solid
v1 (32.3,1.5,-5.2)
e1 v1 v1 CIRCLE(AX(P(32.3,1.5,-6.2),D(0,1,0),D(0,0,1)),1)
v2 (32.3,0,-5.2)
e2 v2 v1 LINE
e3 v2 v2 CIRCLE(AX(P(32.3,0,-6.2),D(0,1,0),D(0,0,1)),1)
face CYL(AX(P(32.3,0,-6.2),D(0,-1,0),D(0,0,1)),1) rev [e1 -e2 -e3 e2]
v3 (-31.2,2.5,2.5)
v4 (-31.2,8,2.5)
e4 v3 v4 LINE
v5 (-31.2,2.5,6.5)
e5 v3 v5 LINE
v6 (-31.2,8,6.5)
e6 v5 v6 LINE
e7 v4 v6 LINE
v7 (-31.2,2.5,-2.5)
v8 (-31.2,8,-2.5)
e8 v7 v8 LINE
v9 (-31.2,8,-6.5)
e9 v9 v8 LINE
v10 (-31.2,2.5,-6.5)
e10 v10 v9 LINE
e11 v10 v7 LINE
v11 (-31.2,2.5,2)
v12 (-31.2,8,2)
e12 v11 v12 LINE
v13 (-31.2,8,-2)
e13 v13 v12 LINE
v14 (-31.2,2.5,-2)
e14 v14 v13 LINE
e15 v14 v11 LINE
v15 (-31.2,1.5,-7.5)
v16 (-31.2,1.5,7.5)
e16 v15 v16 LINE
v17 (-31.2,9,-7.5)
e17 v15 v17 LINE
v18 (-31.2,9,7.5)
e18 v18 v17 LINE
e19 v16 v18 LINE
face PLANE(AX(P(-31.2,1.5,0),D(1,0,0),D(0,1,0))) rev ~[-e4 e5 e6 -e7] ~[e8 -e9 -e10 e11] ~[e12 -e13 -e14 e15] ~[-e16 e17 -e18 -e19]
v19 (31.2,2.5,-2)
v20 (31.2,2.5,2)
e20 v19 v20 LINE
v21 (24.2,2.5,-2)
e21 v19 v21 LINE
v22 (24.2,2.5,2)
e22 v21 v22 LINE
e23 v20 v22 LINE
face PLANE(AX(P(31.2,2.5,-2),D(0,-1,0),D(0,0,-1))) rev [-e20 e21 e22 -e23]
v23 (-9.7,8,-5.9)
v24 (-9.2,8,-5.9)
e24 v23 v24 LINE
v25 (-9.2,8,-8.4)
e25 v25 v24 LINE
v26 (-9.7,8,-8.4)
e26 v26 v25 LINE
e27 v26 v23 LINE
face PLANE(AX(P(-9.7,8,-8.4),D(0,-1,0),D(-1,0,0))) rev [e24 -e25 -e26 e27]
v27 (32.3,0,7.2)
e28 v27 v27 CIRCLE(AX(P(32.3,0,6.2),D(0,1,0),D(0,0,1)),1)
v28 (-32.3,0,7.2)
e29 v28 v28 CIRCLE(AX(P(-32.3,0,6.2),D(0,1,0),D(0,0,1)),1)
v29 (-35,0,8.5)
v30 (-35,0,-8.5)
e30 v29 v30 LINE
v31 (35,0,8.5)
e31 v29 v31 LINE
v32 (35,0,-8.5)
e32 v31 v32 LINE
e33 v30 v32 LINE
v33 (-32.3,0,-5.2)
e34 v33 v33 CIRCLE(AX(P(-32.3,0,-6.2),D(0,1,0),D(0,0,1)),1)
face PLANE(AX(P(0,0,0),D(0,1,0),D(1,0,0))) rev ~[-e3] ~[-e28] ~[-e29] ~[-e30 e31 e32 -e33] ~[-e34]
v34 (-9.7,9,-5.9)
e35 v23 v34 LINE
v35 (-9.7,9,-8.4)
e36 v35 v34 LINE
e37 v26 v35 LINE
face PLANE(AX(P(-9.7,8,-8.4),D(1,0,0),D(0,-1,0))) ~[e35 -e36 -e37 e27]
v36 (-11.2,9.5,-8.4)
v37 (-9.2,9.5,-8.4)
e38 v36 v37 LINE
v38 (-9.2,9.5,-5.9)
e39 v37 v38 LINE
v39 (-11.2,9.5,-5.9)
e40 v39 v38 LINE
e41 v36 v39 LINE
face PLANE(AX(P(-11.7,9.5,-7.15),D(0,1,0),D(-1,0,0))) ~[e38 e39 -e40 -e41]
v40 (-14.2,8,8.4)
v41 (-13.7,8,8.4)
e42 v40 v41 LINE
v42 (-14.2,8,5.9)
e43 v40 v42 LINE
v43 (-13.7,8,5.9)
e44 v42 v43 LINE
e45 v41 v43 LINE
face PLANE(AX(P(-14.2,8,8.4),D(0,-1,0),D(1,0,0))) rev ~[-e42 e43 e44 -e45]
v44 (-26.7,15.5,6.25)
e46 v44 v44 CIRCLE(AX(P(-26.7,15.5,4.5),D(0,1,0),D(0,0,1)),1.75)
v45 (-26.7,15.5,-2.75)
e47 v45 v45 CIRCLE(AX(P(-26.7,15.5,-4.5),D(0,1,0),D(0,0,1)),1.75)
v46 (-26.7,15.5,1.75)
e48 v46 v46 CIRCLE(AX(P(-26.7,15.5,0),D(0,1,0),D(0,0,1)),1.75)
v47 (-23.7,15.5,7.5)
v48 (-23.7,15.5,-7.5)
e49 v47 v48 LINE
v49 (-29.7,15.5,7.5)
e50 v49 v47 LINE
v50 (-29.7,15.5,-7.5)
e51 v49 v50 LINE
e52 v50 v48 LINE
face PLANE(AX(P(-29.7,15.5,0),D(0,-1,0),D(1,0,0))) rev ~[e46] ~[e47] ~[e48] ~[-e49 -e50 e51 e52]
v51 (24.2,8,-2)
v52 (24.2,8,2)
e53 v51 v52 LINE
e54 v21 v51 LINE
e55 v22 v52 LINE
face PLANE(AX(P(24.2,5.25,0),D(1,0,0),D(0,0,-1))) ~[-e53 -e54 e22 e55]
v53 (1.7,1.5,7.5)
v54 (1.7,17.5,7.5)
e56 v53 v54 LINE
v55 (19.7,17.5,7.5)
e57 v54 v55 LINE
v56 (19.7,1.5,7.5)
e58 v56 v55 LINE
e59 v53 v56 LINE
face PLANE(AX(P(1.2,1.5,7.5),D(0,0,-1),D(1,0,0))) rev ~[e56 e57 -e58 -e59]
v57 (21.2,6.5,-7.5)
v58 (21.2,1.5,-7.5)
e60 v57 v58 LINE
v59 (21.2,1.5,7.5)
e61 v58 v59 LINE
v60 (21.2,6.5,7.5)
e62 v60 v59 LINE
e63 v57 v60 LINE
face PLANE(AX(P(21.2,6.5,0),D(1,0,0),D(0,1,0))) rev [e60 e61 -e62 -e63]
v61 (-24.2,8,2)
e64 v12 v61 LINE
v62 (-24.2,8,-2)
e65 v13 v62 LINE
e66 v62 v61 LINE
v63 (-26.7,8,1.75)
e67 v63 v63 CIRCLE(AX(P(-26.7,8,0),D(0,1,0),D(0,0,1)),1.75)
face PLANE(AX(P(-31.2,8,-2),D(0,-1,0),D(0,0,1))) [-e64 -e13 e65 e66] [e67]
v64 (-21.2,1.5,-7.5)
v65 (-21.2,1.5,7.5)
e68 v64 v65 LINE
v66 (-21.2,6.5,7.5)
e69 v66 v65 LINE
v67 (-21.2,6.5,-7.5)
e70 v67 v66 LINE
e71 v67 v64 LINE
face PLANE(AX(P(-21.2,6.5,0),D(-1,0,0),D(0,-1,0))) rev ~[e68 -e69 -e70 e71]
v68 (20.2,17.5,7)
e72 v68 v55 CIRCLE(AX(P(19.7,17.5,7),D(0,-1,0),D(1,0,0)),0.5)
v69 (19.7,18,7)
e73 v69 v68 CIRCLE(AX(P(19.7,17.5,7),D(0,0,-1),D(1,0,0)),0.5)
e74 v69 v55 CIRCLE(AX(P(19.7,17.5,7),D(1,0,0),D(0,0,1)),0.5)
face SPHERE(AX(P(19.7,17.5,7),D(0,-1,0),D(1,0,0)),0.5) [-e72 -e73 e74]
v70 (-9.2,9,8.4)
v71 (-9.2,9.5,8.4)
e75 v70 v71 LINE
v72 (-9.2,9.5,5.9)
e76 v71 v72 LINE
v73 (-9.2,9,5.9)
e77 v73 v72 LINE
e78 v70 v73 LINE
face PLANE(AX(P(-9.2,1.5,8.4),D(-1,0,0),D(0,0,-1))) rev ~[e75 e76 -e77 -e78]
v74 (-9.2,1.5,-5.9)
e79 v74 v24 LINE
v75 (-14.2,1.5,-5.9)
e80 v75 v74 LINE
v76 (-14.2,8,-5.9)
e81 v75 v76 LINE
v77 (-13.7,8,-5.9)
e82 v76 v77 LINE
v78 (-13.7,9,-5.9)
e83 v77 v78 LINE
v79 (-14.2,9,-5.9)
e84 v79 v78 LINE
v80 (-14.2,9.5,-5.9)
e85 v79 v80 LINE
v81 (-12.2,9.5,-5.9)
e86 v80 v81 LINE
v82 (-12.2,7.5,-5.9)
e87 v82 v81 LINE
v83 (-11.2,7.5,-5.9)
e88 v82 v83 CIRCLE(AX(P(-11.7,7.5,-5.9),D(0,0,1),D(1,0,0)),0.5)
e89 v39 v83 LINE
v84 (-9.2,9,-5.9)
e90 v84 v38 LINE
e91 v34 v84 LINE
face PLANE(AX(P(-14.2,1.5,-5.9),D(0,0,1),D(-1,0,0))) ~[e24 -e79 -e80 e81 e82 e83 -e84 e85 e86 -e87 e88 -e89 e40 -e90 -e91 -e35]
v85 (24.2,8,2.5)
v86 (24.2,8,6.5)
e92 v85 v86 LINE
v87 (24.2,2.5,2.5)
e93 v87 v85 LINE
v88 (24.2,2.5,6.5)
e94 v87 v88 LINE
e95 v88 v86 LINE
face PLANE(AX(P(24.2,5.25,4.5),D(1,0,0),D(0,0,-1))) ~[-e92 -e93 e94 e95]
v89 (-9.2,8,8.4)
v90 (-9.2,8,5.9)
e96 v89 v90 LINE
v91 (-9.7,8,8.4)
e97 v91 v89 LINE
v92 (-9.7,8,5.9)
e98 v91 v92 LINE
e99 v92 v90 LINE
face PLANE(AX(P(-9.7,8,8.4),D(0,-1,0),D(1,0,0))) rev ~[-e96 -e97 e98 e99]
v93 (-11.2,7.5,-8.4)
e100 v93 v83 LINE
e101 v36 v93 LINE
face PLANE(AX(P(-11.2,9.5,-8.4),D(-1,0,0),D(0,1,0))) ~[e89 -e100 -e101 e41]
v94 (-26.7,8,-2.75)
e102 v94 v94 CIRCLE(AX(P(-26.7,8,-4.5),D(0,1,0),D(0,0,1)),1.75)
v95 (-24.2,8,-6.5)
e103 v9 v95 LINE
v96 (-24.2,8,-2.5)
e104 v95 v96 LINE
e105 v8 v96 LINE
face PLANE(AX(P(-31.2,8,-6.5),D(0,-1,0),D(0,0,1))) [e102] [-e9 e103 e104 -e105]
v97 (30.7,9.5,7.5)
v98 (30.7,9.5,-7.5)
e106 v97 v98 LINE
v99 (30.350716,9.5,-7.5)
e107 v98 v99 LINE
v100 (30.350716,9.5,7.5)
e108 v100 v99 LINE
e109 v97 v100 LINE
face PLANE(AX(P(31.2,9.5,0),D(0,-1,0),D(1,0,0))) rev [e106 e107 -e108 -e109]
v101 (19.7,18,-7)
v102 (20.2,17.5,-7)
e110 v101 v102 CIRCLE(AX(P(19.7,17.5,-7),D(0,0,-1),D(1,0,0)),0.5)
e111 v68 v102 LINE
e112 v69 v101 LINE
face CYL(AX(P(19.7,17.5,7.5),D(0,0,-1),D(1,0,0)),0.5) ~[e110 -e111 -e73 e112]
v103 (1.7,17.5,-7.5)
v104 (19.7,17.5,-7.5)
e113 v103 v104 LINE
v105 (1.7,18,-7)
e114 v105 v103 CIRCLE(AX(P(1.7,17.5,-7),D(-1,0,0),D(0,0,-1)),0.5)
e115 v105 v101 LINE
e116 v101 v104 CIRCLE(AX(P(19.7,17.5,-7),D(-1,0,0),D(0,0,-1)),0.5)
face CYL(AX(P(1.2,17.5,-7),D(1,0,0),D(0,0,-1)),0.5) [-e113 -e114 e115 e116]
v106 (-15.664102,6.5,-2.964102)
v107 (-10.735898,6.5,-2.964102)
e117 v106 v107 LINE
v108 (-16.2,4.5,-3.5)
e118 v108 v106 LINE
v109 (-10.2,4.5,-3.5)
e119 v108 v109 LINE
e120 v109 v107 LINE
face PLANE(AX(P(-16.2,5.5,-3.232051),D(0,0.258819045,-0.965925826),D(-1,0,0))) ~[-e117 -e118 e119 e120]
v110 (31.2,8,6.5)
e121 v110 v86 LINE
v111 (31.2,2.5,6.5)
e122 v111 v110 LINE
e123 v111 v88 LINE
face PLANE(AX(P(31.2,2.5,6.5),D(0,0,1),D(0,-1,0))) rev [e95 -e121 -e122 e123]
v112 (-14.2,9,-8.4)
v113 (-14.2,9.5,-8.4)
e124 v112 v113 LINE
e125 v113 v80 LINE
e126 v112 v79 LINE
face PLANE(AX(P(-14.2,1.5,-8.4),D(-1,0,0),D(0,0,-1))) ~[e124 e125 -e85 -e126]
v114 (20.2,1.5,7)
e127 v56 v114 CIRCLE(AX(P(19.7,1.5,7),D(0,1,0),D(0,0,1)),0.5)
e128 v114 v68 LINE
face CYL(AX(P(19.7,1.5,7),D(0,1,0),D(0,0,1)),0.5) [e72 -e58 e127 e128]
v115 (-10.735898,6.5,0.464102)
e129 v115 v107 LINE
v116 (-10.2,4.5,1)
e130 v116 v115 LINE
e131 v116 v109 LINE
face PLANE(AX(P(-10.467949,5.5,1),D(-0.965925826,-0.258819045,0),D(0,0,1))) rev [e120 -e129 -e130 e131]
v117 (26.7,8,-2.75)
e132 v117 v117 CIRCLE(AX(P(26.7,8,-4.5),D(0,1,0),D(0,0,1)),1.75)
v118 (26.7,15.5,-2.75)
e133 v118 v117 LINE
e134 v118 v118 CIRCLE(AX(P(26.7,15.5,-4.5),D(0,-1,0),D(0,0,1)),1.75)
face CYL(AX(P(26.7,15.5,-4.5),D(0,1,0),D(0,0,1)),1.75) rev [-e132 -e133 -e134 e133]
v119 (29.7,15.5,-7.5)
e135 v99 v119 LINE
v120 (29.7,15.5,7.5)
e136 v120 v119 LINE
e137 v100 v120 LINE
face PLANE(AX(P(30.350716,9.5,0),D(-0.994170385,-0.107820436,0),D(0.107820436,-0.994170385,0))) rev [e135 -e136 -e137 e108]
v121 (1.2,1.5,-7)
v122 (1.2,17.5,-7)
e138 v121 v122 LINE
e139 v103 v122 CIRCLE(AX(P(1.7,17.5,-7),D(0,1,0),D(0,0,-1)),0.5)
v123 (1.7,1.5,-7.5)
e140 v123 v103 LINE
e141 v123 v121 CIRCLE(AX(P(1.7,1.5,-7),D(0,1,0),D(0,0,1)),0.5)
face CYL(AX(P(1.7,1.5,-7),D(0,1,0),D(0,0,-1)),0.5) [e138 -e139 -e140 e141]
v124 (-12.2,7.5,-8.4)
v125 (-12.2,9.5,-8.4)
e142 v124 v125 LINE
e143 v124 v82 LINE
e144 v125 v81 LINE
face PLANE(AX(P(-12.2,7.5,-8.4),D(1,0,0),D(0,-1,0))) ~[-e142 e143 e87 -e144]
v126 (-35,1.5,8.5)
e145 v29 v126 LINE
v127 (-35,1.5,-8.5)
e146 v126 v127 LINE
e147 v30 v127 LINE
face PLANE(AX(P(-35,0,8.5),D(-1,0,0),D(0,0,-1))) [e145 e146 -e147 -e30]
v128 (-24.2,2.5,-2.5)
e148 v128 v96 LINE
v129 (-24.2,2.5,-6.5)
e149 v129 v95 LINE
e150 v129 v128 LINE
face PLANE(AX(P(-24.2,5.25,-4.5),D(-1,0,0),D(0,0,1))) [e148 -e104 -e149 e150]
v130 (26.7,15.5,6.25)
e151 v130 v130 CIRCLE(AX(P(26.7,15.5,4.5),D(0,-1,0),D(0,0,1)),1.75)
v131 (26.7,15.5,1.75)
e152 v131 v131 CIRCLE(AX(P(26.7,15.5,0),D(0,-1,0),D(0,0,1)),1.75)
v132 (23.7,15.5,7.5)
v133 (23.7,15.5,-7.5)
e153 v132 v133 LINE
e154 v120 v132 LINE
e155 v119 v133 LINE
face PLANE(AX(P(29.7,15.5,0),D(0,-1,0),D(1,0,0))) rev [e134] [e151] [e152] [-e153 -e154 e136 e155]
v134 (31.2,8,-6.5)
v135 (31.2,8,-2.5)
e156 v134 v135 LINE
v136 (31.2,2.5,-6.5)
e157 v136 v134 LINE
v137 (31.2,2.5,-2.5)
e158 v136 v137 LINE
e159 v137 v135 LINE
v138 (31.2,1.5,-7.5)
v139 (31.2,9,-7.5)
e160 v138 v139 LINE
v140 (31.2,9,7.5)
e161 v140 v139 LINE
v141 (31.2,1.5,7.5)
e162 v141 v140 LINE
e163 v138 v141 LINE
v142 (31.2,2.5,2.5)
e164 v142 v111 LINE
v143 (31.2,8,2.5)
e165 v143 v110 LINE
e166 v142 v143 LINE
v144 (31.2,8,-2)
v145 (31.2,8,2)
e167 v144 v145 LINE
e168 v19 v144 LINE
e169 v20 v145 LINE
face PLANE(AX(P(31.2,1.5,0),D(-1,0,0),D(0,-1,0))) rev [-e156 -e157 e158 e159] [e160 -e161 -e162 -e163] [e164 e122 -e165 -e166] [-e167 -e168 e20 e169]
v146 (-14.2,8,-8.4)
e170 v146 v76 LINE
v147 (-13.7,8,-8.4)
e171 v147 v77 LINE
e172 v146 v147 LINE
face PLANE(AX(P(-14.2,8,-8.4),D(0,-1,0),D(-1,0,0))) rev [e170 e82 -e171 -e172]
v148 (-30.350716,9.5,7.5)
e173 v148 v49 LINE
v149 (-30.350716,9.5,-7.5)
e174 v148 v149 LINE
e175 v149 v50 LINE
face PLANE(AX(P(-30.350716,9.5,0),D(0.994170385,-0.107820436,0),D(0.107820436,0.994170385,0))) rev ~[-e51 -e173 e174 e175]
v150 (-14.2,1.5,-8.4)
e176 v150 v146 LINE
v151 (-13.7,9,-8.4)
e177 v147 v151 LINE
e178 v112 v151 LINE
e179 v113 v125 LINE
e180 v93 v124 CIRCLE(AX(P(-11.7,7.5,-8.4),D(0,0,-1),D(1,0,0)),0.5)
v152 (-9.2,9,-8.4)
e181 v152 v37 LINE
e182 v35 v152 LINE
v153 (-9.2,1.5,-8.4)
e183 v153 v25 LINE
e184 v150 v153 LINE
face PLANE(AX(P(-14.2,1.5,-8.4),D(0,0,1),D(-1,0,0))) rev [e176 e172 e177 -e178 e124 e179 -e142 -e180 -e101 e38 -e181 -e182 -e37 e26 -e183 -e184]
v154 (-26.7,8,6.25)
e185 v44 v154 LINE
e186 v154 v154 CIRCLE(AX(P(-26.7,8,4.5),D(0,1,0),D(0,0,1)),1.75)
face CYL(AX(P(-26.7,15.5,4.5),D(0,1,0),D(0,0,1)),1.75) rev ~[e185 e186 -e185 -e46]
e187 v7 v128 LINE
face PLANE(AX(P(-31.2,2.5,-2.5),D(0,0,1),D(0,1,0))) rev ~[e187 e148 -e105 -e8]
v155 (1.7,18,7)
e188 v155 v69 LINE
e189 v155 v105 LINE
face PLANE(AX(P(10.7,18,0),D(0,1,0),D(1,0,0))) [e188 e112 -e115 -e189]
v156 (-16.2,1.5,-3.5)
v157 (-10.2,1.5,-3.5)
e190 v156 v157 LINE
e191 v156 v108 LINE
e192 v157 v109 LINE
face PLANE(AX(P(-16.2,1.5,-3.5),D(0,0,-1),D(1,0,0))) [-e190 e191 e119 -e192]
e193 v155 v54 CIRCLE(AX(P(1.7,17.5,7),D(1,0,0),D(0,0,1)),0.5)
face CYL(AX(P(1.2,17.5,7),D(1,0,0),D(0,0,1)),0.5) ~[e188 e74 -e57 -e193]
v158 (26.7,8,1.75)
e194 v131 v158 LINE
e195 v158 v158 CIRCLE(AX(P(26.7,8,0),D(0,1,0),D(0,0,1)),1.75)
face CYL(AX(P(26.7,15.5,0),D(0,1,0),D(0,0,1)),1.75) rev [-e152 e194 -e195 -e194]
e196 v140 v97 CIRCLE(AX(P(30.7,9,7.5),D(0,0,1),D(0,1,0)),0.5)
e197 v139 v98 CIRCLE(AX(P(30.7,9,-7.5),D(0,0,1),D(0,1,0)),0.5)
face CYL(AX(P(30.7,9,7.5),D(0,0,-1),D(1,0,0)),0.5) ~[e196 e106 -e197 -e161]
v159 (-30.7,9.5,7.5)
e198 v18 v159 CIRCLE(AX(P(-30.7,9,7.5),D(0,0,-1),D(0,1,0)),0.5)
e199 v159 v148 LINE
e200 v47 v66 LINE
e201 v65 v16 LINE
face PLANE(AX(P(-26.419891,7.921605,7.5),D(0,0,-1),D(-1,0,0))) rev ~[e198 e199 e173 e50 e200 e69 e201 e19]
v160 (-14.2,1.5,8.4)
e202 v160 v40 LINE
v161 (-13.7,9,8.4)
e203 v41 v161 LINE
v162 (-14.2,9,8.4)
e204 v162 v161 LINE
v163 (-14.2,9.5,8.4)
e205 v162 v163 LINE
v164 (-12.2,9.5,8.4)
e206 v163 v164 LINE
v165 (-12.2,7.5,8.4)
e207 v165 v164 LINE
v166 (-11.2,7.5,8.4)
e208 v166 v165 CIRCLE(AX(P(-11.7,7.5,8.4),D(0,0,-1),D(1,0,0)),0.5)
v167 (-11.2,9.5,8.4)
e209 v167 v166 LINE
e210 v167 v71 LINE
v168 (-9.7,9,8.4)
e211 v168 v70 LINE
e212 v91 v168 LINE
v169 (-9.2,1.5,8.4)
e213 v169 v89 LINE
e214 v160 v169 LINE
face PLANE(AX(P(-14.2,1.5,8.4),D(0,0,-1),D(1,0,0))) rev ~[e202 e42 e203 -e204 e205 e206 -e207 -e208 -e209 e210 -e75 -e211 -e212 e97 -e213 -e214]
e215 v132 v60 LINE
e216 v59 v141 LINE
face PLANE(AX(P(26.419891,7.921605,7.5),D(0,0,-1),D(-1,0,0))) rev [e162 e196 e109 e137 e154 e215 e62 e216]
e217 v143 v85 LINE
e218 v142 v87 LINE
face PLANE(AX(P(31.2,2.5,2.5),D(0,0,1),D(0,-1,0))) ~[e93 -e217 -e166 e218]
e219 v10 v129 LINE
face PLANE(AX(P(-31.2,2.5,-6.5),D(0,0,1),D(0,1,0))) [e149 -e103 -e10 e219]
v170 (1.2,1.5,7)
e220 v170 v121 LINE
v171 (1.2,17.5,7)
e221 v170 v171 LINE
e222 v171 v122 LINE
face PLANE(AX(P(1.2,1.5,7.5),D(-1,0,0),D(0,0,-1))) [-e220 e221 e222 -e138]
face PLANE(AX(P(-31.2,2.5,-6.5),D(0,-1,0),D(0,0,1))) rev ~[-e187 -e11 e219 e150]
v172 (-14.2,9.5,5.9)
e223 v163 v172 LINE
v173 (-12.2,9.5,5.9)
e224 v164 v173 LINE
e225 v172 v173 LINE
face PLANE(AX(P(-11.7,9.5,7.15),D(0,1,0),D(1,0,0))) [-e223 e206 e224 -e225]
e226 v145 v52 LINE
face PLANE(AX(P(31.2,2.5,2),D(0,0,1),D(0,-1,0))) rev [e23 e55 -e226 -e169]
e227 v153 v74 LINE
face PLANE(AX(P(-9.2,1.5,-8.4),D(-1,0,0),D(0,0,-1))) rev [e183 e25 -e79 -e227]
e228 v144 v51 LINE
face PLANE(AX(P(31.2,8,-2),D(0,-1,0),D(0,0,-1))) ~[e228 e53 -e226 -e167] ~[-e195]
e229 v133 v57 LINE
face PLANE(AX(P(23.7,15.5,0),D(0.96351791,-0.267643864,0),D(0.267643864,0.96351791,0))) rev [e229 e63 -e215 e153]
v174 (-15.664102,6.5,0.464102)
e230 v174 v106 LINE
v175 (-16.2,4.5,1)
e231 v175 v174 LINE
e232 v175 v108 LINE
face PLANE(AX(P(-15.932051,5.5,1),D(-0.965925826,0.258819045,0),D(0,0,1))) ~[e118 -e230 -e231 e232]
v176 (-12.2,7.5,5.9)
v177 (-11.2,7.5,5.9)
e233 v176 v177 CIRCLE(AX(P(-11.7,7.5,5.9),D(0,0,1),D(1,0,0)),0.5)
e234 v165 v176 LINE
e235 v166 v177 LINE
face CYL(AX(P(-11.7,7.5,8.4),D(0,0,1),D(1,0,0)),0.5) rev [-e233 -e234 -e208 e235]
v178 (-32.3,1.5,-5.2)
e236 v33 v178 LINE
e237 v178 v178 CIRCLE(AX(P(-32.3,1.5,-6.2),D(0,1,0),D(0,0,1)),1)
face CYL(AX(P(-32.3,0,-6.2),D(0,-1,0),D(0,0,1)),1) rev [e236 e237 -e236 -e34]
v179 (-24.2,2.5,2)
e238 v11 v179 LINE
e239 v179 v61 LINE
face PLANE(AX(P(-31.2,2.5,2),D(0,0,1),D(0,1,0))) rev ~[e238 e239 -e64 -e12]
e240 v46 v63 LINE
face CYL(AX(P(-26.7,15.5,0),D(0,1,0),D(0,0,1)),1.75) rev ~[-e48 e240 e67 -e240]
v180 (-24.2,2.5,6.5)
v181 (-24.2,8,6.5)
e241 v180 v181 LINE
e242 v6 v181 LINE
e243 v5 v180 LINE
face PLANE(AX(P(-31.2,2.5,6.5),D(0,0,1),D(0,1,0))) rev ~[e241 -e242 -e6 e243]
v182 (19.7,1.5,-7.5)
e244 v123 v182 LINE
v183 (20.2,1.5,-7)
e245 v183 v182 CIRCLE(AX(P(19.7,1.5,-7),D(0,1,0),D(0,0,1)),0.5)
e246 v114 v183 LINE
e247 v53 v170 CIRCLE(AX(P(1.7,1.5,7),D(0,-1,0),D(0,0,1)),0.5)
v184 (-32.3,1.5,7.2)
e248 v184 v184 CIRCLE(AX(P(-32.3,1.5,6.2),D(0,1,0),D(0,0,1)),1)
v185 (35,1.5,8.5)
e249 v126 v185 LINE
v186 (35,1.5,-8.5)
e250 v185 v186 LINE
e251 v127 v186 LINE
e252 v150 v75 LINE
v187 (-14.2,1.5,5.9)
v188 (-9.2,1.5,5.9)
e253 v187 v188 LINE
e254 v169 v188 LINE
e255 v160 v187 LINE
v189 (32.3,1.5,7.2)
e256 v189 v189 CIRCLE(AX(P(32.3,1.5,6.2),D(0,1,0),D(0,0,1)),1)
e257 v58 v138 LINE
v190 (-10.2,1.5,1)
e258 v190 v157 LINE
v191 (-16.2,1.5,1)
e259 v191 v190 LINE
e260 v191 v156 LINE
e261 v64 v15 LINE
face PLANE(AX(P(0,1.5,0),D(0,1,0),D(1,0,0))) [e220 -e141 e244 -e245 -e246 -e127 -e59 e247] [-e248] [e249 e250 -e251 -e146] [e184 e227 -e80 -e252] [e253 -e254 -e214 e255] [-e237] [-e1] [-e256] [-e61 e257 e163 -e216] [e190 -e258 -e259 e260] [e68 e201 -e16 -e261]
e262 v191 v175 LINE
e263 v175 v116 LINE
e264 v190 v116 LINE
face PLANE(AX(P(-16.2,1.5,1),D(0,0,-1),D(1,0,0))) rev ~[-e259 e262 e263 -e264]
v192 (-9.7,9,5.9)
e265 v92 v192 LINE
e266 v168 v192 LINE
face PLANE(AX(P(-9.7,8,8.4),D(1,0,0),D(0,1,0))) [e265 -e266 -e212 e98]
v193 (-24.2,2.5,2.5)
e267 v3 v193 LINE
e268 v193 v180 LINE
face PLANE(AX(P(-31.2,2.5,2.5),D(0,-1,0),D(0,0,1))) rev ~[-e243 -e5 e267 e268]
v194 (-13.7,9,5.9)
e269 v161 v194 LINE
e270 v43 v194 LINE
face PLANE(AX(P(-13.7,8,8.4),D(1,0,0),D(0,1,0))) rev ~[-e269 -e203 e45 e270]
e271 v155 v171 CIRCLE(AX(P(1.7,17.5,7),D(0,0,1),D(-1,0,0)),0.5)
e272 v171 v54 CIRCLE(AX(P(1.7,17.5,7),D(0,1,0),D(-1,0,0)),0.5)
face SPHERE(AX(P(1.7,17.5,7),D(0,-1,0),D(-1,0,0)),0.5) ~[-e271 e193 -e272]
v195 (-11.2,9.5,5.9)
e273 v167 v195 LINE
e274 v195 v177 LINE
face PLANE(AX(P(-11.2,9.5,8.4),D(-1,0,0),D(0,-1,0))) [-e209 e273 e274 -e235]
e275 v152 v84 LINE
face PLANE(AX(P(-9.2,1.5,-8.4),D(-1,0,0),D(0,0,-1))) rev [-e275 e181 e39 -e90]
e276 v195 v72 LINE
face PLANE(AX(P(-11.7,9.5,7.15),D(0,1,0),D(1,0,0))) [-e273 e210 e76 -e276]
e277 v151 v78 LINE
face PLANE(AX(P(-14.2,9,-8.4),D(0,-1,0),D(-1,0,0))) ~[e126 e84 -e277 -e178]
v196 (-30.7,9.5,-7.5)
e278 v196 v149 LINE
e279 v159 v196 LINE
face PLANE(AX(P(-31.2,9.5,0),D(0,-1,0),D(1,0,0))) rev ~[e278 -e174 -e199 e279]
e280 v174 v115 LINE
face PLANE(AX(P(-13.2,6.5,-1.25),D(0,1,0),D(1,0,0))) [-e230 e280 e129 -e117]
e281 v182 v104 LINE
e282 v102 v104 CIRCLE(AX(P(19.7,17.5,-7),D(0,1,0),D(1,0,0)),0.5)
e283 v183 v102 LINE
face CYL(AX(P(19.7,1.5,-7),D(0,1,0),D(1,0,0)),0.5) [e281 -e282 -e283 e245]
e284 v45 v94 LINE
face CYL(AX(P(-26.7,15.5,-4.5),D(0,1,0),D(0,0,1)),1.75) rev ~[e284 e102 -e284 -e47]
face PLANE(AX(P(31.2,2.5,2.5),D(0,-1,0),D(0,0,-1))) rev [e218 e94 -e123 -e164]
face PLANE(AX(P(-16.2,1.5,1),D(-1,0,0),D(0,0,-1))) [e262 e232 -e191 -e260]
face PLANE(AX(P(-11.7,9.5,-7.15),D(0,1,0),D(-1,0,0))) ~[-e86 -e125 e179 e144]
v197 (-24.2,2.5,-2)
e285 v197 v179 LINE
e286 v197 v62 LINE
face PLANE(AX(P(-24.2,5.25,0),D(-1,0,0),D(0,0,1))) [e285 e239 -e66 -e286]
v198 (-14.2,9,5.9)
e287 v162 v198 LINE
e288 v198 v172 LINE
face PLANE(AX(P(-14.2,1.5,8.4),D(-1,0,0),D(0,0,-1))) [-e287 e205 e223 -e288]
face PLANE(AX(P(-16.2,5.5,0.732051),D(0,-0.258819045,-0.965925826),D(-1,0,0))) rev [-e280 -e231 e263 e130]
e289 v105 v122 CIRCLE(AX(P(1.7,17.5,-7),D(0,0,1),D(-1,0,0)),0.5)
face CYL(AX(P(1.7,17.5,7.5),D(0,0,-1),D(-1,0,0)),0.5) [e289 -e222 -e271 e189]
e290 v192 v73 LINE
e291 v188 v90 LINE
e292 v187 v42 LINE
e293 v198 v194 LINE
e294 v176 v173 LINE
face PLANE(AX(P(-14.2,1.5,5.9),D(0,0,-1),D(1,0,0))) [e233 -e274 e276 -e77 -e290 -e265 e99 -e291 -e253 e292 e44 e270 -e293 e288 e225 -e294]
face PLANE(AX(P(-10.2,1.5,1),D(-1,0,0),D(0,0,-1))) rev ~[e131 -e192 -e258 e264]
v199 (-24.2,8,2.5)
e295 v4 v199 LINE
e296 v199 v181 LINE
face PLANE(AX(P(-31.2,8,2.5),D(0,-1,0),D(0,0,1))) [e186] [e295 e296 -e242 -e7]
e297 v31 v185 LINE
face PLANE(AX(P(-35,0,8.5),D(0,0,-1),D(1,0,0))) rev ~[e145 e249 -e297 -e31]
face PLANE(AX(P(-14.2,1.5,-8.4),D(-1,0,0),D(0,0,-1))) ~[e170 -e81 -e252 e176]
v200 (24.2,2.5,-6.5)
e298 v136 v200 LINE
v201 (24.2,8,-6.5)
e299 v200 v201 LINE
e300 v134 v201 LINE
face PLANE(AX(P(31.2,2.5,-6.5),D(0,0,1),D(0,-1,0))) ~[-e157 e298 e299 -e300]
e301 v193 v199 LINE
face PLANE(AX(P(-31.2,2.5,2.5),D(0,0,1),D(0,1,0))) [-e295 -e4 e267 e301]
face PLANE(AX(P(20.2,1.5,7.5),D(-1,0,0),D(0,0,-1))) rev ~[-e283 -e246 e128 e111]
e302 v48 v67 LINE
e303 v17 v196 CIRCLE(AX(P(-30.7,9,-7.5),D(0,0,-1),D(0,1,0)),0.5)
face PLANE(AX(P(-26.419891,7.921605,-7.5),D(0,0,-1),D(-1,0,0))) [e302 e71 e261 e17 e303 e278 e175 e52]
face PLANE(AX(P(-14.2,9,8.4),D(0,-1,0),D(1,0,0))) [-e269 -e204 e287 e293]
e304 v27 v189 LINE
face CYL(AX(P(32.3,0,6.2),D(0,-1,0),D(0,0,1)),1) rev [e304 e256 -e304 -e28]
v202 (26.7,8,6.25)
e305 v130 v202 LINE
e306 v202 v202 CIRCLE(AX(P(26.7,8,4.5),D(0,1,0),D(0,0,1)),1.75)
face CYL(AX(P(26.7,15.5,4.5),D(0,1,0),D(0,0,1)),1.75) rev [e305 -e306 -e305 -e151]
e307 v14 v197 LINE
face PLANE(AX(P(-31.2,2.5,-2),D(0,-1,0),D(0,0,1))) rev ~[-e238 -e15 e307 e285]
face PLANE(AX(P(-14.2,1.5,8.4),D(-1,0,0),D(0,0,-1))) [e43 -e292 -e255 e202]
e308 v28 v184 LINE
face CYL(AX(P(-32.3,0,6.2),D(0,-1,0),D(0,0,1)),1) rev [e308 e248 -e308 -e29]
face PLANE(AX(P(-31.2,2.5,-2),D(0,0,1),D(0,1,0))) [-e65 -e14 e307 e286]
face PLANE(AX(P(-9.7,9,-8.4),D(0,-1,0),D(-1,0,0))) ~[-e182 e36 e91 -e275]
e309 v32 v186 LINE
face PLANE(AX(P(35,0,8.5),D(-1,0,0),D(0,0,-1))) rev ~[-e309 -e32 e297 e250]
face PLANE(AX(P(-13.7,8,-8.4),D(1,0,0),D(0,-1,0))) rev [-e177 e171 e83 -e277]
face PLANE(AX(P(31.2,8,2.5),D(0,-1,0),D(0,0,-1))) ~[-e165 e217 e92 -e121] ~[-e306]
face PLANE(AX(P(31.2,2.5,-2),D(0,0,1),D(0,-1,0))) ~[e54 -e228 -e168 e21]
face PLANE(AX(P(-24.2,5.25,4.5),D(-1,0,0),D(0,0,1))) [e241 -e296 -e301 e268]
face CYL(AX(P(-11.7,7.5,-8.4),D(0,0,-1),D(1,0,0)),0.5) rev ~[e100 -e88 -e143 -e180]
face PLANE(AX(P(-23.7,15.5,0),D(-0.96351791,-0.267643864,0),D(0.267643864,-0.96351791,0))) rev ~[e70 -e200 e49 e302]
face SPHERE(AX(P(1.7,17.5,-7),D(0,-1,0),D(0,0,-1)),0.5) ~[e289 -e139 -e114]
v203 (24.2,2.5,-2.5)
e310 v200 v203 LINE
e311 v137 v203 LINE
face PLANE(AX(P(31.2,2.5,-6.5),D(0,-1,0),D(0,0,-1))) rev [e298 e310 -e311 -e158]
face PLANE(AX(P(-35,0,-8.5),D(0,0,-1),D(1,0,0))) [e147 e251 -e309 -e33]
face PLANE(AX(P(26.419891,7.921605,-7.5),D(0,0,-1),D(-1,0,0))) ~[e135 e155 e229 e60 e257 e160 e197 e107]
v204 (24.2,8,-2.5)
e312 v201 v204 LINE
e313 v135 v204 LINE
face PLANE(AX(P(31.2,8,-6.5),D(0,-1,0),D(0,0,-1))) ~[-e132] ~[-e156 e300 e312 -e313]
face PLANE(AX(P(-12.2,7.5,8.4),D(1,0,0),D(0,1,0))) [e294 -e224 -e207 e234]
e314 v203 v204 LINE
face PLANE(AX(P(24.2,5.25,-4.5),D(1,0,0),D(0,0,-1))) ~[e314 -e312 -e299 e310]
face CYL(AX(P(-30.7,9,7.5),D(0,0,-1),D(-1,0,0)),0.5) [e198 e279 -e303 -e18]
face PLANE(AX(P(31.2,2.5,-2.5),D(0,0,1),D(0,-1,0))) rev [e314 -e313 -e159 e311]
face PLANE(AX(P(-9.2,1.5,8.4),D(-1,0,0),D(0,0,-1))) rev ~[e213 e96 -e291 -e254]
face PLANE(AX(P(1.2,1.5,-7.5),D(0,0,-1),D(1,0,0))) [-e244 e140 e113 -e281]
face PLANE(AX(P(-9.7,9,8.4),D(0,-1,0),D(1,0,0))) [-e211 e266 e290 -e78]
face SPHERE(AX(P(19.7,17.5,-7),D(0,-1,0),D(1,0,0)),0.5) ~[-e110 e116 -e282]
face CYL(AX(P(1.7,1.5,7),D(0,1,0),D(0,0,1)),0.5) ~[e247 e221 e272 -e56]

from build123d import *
from OCP.BRepFilletAPI import BRepFilletAPI_MakeChamfer

# Parameters (mm, degrees)
SKETCH1_W            = 70
SKETCH1_H            = 17
SKETCH1_R            = 1
BOSS_EXTRUDE1_DEPTH  = 1.5
BOSS_EXTRUDE2_DEPTH  = 7.5
FILLET1_R            = 0.5
SKETCH3_R            = 1.75
CUT_EXTRUDE1_DEPTH   = 11
SKETCH4_W            = 4
SKETCH4_H            = 5.5
CUT_EXTRUDE2_DEPTH   = 7
FILLET1_OF_MIRROR1_R = 0.5
SKETCH5_W            = 19
SKETCH5_H            = 15
BOSS_EXTRUDE3_DEPTH  = 16.5
FILLET2_R            = 0.5
SKETCH6_W            = 6
SKETCH6_H            = 4.5
BOSS_EXTRUDE4_DEPTH  = 5
CHAMFER1_SIZE        = 2
CHAMFER1_SIZE2       = 0.535898385
SKETCH7_W            = 5
SKETCH7_H            = 2.5
BOSS_EXTRUDE5_DEPTH  = 8
CUT_EXTRUDE3_REACH   = 44.832
SKETCH8_W            = 0.5
SKETCH8_H            = 1


with BuildPart() as part:
    # Sketch1 → Boss-Extrude1 (new body)
    with BuildSketch(Plane(origin=(0, 0, 0), x_dir=(1, 0, 0), z_dir=(0, 1, 0))):
        Rectangle(SKETCH1_W, SKETCH1_H)
        with Locations(Location((-32.3, 6.2, 0), (0, 0, 270))):
            Circle(SKETCH1_R, mode=Mode.SUBTRACT)
        with Locations(Location((32.3, 6.2, 0), (0, 0, 270))):
            Circle(SKETCH1_R, mode=Mode.SUBTRACT)
        with Locations(Location((32.3, -6.2, 0), (0, 0, 270))):
            Circle(SKETCH1_R, mode=Mode.SUBTRACT)
        with Locations(Location((-32.3, -6.2, 0), (0, 0, 270))):
            Circle(SKETCH1_R, mode=Mode.SUBTRACT)
    extrude(amount=BOSS_EXTRUDE1_DEPTH)

    # Sketch2 → Boss-Extrude2 (add, symmetric)
    with BuildSketch(Plane.XY):
        Polygon((-31.2, 1.5), (-31.2, 9.5), (-30.350716041, 9.5), (-29.7, 15.5), (-23.7, 15.5), (-21.2, 6.5), (-21.2, 1.5), align=None)
    boss_extrude2 = extrude(amount=BOSS_EXTRUDE2_DEPTH, both=True)

    # Fillet1
    fillet1_edges = [part.edges().sort_by_distance(p)[0] for p in [
        (-31.2, 9.5, 0),
    ]]
    fillet(fillet1_edges, radius=FILLET1_R)

    # Sketch3 → Cut-Extrude1 (cut)
    with BuildSketch(Plane(origin=(0, 15.5, 0), x_dir=(1, 0, 0), z_dir=(0, 1, 0))):
        with Locations(Location((-26.7, 4.5, 0), (0, 0, 270))):
            Circle(SKETCH3_R)
        with Locations(Location((-26.7, 0, 0), (0, 0, 270))):
            Circle(SKETCH3_R)
        with Locations(Location((-26.7, -4.5, 0), (0, 0, 270))):
            Circle(SKETCH3_R)
    cut_extrude1 = extrude(amount=-CUT_EXTRUDE1_DEPTH, mode=Mode.SUBTRACT)

    # Sketch4 → Cut-Extrude2 (cut)
    with BuildSketch(Plane.ZY.offset(31.2)):
        with Locations((-4.5, 5.25)):
            Rectangle(SKETCH4_W, SKETCH4_H)
        with Locations((0, 5.25)):
            Rectangle(SKETCH4_W, SKETCH4_H)
        with Locations((4.5, 5.25)):
            Rectangle(SKETCH4_W, SKETCH4_H)
    cut_extrude2 = extrude(amount=-CUT_EXTRUDE2_DEPTH, mode=Mode.SUBTRACT)

    # Mirror1: Boss-Extrude2, Cut-Extrude1, Cut-Extrude2 across plane
    add(boss_extrude2.mirror(Plane(origin=(0, 0, 0), x_dir=(0, 0, 1), z_dir=(1, 0, 0))))
    add(cut_extrude1.mirror(Plane(origin=(0, 0, 0), x_dir=(0, 0, 1), z_dir=(1, 0, 0))), mode=Mode.SUBTRACT)
    add(cut_extrude2.mirror(Plane(origin=(0, 0, 0), x_dir=(0, 0, 1), z_dir=(1, 0, 0))), mode=Mode.SUBTRACT)

    # Fillet1 of Mirror1
    fillet1_of_mirror1_edges = [part.edges().sort_by_distance(p)[0] for p in [
        (31.2, 9.5, 0),
    ]]
    fillet(fillet1_of_mirror1_edges, radius=FILLET1_OF_MIRROR1_R)

    # Sketch5 → Boss-Extrude3 (add)
    with BuildSketch(Plane(origin=(0, 1.5, 0), x_dir=(1, 0, 0), z_dir=(0, 1, 0))):
        with Locations((10.7, 0)):
            Rectangle(SKETCH5_W, SKETCH5_H)
    extrude(amount=BOSS_EXTRUDE3_DEPTH)

    # Fillet2
    fillet2_edges = [part.edges().sort_by_distance(p)[0] for p in [
        (20.2, 9.75, 7.5),
        (20.2, 9.75, -7.5),
        (1.2, 9.75, -7.5),
        (1.2, 9.75, 7.5),
        (20.2, 18, 0),
        (10.7, 18, -7.5),
        (1.2, 18, 0),
        (10.7, 18, 7.5),
    ]]
    fillet(fillet2_edges, radius=FILLET2_R)

    # Sketch6 → Boss-Extrude4 (add)
    with BuildSketch(Plane(origin=(0, 1.5, 0), x_dir=(1, 0, 0), z_dir=(0, 1, 0))):
        with Locations((-13.2, 1.25)):
            Rectangle(SKETCH6_W, SKETCH6_H)
    extrude(amount=BOSS_EXTRUDE4_DEPTH)

    # Chamfer1: one chamfer whose edges measure the first distance from different faces: ONE call of the kernel's chamfer builder (chamfer() names one face for all edges)
    chamfer1_edges_1 = [part.edges().sort_by_distance(p)[0] for p in [
        (-16.2, 6.5, -1.25),
    ]]
    chamfer1_side_1 = [part.faces().sort_by_distance(p)[0] for p in [
        (-16.2, 4, -1.25),
    ]]
    chamfer1_edges_2 = [part.edges().sort_by_distance(p)[0] for p in [
        (-13.2, 6.5, 1),
    ]]
    chamfer1_side_2 = [part.faces().sort_by_distance(p)[0] for p in [
        (-13.2, 4, 1),
    ]]
    chamfer1_edges_3 = [part.edges().sort_by_distance(p)[0] for p in [
        (-10.2, 6.5, -1.25),
    ]]
    chamfer1_side_3 = [part.faces().sort_by_distance(p)[0] for p in [
        (-10.2, 4, -1.25),
    ]]
    chamfer1_edges_4 = [part.edges().sort_by_distance(p)[0] for p in [
        (-13.2, 6.5, -3.5),
    ]]
    chamfer1_side_4 = [part.faces().sort_by_distance(p)[0] for p in [
        (-13.2, 4, -3.5),
    ]]
    chamfer1 = BRepFilletAPI_MakeChamfer(part.part.solid().wrapped)
    for e in chamfer1_edges_1:
        chamfer1.Add(CHAMFER1_SIZE, CHAMFER1_SIZE2, e.wrapped, chamfer1_side_1[0].wrapped)  # the first distance lies on this face
    for e in chamfer1_edges_2:
        chamfer1.Add(CHAMFER1_SIZE, CHAMFER1_SIZE2, e.wrapped, chamfer1_side_2[0].wrapped)  # the first distance lies on this face
    for e in chamfer1_edges_3:
        chamfer1.Add(CHAMFER1_SIZE, CHAMFER1_SIZE2, e.wrapped, chamfer1_side_3[0].wrapped)  # the first distance lies on this face
    for e in chamfer1_edges_4:
        chamfer1.Add(CHAMFER1_SIZE, CHAMFER1_SIZE2, e.wrapped, chamfer1_side_4[0].wrapped)  # the first distance lies on this face
    add(Compound.cast(chamfer1.Shape()), mode=Mode.REPLACE)

    # Sketch7 → Boss-Extrude5 (add)
    with BuildSketch(Plane(origin=(0, 1.5, 0), x_dir=(1, 0, 0), z_dir=(0, 1, 0))):
        with Locations((-11.7, -7.15)):
            Rectangle(SKETCH7_W, SKETCH7_H)
    boss_extrude5 = extrude(amount=BOSS_EXTRUDE5_DEPTH)

    # Sketch8 → Cut-Extrude3 (cut, up to next)
    with BuildSketch(Plane.XY.offset(8.4), mode=Mode.PRIVATE) as cut_extrude3_sk1:
        with Locations((-13.95, 8.5)):
            Rectangle(SKETCH8_W, SKETCH8_H)
    cut_extrude3_tool1 = extrude(cut_extrude3_sk1.sketch, amount=-CUT_EXTRUDE3_REACH, mode=Mode.PRIVATE) & part.part
    # Sketch8 → Cut-Extrude3 (cut, up to next)
    with BuildSketch(Plane.XY.offset(8.4), mode=Mode.PRIVATE) as cut_extrude3_sk2:
        with BuildLine():
            Line((-12.2, 7.5), (-12.2, 9.5))
            Line((-12.2, 9.5), (-11.2, 9.5))
            Line((-11.2, 9.5), (-11.2, 7.5))
            ThreePointArc((-11.2, 7.5), (-11.7, 7), (-12.2, 7.5))
        make_face()
    cut_extrude3_tool2 = extrude(cut_extrude3_sk2.sketch, amount=-CUT_EXTRUDE3_REACH, mode=Mode.PRIVATE) & part.part
    # Sketch8 → Cut-Extrude3 (cut, up to next)
    with BuildSketch(Plane.XY.offset(8.4), mode=Mode.PRIVATE) as cut_extrude3_sk3:
        with Locations((-9.45, 8.5)):
            Rectangle(SKETCH8_W, SKETCH8_H)
    cut_extrude3_tool3 = extrude(cut_extrude3_sk3.sketch, amount=-CUT_EXTRUDE3_REACH, mode=Mode.PRIVATE) & part.part
    cut_extrude3_1 = cut_extrude3_tool1.solids().sort_by_distance((-13.95, 8.5, 8.4))[0]
    add(cut_extrude3_1, mode=Mode.SUBTRACT)
    cut_extrude3_2 = cut_extrude3_tool2.solids().sort_by_distance((-11.7, 8.301048, 8.4))[0]
    add(cut_extrude3_2, mode=Mode.SUBTRACT)
    cut_extrude3_3 = cut_extrude3_tool3.solids().sort_by_distance((-9.45, 8.5, 8.4))[0]
    add(cut_extrude3_3, mode=Mode.SUBTRACT)
    cut_extrude3 = cut_extrude3_1 + cut_extrude3_2 + cut_extrude3_3  # Cut-Extrude3 as one shape, for the pattern or mirror that repeats it

    # Mirror2: Boss-Extrude5, Cut-Extrude3 across plane
    add(boss_extrude5.mirror(Plane.XY))
    add(cut_extrude3.mirror(Plane.XY), mode=Mode.SUBTRACT)


solid = part.part
